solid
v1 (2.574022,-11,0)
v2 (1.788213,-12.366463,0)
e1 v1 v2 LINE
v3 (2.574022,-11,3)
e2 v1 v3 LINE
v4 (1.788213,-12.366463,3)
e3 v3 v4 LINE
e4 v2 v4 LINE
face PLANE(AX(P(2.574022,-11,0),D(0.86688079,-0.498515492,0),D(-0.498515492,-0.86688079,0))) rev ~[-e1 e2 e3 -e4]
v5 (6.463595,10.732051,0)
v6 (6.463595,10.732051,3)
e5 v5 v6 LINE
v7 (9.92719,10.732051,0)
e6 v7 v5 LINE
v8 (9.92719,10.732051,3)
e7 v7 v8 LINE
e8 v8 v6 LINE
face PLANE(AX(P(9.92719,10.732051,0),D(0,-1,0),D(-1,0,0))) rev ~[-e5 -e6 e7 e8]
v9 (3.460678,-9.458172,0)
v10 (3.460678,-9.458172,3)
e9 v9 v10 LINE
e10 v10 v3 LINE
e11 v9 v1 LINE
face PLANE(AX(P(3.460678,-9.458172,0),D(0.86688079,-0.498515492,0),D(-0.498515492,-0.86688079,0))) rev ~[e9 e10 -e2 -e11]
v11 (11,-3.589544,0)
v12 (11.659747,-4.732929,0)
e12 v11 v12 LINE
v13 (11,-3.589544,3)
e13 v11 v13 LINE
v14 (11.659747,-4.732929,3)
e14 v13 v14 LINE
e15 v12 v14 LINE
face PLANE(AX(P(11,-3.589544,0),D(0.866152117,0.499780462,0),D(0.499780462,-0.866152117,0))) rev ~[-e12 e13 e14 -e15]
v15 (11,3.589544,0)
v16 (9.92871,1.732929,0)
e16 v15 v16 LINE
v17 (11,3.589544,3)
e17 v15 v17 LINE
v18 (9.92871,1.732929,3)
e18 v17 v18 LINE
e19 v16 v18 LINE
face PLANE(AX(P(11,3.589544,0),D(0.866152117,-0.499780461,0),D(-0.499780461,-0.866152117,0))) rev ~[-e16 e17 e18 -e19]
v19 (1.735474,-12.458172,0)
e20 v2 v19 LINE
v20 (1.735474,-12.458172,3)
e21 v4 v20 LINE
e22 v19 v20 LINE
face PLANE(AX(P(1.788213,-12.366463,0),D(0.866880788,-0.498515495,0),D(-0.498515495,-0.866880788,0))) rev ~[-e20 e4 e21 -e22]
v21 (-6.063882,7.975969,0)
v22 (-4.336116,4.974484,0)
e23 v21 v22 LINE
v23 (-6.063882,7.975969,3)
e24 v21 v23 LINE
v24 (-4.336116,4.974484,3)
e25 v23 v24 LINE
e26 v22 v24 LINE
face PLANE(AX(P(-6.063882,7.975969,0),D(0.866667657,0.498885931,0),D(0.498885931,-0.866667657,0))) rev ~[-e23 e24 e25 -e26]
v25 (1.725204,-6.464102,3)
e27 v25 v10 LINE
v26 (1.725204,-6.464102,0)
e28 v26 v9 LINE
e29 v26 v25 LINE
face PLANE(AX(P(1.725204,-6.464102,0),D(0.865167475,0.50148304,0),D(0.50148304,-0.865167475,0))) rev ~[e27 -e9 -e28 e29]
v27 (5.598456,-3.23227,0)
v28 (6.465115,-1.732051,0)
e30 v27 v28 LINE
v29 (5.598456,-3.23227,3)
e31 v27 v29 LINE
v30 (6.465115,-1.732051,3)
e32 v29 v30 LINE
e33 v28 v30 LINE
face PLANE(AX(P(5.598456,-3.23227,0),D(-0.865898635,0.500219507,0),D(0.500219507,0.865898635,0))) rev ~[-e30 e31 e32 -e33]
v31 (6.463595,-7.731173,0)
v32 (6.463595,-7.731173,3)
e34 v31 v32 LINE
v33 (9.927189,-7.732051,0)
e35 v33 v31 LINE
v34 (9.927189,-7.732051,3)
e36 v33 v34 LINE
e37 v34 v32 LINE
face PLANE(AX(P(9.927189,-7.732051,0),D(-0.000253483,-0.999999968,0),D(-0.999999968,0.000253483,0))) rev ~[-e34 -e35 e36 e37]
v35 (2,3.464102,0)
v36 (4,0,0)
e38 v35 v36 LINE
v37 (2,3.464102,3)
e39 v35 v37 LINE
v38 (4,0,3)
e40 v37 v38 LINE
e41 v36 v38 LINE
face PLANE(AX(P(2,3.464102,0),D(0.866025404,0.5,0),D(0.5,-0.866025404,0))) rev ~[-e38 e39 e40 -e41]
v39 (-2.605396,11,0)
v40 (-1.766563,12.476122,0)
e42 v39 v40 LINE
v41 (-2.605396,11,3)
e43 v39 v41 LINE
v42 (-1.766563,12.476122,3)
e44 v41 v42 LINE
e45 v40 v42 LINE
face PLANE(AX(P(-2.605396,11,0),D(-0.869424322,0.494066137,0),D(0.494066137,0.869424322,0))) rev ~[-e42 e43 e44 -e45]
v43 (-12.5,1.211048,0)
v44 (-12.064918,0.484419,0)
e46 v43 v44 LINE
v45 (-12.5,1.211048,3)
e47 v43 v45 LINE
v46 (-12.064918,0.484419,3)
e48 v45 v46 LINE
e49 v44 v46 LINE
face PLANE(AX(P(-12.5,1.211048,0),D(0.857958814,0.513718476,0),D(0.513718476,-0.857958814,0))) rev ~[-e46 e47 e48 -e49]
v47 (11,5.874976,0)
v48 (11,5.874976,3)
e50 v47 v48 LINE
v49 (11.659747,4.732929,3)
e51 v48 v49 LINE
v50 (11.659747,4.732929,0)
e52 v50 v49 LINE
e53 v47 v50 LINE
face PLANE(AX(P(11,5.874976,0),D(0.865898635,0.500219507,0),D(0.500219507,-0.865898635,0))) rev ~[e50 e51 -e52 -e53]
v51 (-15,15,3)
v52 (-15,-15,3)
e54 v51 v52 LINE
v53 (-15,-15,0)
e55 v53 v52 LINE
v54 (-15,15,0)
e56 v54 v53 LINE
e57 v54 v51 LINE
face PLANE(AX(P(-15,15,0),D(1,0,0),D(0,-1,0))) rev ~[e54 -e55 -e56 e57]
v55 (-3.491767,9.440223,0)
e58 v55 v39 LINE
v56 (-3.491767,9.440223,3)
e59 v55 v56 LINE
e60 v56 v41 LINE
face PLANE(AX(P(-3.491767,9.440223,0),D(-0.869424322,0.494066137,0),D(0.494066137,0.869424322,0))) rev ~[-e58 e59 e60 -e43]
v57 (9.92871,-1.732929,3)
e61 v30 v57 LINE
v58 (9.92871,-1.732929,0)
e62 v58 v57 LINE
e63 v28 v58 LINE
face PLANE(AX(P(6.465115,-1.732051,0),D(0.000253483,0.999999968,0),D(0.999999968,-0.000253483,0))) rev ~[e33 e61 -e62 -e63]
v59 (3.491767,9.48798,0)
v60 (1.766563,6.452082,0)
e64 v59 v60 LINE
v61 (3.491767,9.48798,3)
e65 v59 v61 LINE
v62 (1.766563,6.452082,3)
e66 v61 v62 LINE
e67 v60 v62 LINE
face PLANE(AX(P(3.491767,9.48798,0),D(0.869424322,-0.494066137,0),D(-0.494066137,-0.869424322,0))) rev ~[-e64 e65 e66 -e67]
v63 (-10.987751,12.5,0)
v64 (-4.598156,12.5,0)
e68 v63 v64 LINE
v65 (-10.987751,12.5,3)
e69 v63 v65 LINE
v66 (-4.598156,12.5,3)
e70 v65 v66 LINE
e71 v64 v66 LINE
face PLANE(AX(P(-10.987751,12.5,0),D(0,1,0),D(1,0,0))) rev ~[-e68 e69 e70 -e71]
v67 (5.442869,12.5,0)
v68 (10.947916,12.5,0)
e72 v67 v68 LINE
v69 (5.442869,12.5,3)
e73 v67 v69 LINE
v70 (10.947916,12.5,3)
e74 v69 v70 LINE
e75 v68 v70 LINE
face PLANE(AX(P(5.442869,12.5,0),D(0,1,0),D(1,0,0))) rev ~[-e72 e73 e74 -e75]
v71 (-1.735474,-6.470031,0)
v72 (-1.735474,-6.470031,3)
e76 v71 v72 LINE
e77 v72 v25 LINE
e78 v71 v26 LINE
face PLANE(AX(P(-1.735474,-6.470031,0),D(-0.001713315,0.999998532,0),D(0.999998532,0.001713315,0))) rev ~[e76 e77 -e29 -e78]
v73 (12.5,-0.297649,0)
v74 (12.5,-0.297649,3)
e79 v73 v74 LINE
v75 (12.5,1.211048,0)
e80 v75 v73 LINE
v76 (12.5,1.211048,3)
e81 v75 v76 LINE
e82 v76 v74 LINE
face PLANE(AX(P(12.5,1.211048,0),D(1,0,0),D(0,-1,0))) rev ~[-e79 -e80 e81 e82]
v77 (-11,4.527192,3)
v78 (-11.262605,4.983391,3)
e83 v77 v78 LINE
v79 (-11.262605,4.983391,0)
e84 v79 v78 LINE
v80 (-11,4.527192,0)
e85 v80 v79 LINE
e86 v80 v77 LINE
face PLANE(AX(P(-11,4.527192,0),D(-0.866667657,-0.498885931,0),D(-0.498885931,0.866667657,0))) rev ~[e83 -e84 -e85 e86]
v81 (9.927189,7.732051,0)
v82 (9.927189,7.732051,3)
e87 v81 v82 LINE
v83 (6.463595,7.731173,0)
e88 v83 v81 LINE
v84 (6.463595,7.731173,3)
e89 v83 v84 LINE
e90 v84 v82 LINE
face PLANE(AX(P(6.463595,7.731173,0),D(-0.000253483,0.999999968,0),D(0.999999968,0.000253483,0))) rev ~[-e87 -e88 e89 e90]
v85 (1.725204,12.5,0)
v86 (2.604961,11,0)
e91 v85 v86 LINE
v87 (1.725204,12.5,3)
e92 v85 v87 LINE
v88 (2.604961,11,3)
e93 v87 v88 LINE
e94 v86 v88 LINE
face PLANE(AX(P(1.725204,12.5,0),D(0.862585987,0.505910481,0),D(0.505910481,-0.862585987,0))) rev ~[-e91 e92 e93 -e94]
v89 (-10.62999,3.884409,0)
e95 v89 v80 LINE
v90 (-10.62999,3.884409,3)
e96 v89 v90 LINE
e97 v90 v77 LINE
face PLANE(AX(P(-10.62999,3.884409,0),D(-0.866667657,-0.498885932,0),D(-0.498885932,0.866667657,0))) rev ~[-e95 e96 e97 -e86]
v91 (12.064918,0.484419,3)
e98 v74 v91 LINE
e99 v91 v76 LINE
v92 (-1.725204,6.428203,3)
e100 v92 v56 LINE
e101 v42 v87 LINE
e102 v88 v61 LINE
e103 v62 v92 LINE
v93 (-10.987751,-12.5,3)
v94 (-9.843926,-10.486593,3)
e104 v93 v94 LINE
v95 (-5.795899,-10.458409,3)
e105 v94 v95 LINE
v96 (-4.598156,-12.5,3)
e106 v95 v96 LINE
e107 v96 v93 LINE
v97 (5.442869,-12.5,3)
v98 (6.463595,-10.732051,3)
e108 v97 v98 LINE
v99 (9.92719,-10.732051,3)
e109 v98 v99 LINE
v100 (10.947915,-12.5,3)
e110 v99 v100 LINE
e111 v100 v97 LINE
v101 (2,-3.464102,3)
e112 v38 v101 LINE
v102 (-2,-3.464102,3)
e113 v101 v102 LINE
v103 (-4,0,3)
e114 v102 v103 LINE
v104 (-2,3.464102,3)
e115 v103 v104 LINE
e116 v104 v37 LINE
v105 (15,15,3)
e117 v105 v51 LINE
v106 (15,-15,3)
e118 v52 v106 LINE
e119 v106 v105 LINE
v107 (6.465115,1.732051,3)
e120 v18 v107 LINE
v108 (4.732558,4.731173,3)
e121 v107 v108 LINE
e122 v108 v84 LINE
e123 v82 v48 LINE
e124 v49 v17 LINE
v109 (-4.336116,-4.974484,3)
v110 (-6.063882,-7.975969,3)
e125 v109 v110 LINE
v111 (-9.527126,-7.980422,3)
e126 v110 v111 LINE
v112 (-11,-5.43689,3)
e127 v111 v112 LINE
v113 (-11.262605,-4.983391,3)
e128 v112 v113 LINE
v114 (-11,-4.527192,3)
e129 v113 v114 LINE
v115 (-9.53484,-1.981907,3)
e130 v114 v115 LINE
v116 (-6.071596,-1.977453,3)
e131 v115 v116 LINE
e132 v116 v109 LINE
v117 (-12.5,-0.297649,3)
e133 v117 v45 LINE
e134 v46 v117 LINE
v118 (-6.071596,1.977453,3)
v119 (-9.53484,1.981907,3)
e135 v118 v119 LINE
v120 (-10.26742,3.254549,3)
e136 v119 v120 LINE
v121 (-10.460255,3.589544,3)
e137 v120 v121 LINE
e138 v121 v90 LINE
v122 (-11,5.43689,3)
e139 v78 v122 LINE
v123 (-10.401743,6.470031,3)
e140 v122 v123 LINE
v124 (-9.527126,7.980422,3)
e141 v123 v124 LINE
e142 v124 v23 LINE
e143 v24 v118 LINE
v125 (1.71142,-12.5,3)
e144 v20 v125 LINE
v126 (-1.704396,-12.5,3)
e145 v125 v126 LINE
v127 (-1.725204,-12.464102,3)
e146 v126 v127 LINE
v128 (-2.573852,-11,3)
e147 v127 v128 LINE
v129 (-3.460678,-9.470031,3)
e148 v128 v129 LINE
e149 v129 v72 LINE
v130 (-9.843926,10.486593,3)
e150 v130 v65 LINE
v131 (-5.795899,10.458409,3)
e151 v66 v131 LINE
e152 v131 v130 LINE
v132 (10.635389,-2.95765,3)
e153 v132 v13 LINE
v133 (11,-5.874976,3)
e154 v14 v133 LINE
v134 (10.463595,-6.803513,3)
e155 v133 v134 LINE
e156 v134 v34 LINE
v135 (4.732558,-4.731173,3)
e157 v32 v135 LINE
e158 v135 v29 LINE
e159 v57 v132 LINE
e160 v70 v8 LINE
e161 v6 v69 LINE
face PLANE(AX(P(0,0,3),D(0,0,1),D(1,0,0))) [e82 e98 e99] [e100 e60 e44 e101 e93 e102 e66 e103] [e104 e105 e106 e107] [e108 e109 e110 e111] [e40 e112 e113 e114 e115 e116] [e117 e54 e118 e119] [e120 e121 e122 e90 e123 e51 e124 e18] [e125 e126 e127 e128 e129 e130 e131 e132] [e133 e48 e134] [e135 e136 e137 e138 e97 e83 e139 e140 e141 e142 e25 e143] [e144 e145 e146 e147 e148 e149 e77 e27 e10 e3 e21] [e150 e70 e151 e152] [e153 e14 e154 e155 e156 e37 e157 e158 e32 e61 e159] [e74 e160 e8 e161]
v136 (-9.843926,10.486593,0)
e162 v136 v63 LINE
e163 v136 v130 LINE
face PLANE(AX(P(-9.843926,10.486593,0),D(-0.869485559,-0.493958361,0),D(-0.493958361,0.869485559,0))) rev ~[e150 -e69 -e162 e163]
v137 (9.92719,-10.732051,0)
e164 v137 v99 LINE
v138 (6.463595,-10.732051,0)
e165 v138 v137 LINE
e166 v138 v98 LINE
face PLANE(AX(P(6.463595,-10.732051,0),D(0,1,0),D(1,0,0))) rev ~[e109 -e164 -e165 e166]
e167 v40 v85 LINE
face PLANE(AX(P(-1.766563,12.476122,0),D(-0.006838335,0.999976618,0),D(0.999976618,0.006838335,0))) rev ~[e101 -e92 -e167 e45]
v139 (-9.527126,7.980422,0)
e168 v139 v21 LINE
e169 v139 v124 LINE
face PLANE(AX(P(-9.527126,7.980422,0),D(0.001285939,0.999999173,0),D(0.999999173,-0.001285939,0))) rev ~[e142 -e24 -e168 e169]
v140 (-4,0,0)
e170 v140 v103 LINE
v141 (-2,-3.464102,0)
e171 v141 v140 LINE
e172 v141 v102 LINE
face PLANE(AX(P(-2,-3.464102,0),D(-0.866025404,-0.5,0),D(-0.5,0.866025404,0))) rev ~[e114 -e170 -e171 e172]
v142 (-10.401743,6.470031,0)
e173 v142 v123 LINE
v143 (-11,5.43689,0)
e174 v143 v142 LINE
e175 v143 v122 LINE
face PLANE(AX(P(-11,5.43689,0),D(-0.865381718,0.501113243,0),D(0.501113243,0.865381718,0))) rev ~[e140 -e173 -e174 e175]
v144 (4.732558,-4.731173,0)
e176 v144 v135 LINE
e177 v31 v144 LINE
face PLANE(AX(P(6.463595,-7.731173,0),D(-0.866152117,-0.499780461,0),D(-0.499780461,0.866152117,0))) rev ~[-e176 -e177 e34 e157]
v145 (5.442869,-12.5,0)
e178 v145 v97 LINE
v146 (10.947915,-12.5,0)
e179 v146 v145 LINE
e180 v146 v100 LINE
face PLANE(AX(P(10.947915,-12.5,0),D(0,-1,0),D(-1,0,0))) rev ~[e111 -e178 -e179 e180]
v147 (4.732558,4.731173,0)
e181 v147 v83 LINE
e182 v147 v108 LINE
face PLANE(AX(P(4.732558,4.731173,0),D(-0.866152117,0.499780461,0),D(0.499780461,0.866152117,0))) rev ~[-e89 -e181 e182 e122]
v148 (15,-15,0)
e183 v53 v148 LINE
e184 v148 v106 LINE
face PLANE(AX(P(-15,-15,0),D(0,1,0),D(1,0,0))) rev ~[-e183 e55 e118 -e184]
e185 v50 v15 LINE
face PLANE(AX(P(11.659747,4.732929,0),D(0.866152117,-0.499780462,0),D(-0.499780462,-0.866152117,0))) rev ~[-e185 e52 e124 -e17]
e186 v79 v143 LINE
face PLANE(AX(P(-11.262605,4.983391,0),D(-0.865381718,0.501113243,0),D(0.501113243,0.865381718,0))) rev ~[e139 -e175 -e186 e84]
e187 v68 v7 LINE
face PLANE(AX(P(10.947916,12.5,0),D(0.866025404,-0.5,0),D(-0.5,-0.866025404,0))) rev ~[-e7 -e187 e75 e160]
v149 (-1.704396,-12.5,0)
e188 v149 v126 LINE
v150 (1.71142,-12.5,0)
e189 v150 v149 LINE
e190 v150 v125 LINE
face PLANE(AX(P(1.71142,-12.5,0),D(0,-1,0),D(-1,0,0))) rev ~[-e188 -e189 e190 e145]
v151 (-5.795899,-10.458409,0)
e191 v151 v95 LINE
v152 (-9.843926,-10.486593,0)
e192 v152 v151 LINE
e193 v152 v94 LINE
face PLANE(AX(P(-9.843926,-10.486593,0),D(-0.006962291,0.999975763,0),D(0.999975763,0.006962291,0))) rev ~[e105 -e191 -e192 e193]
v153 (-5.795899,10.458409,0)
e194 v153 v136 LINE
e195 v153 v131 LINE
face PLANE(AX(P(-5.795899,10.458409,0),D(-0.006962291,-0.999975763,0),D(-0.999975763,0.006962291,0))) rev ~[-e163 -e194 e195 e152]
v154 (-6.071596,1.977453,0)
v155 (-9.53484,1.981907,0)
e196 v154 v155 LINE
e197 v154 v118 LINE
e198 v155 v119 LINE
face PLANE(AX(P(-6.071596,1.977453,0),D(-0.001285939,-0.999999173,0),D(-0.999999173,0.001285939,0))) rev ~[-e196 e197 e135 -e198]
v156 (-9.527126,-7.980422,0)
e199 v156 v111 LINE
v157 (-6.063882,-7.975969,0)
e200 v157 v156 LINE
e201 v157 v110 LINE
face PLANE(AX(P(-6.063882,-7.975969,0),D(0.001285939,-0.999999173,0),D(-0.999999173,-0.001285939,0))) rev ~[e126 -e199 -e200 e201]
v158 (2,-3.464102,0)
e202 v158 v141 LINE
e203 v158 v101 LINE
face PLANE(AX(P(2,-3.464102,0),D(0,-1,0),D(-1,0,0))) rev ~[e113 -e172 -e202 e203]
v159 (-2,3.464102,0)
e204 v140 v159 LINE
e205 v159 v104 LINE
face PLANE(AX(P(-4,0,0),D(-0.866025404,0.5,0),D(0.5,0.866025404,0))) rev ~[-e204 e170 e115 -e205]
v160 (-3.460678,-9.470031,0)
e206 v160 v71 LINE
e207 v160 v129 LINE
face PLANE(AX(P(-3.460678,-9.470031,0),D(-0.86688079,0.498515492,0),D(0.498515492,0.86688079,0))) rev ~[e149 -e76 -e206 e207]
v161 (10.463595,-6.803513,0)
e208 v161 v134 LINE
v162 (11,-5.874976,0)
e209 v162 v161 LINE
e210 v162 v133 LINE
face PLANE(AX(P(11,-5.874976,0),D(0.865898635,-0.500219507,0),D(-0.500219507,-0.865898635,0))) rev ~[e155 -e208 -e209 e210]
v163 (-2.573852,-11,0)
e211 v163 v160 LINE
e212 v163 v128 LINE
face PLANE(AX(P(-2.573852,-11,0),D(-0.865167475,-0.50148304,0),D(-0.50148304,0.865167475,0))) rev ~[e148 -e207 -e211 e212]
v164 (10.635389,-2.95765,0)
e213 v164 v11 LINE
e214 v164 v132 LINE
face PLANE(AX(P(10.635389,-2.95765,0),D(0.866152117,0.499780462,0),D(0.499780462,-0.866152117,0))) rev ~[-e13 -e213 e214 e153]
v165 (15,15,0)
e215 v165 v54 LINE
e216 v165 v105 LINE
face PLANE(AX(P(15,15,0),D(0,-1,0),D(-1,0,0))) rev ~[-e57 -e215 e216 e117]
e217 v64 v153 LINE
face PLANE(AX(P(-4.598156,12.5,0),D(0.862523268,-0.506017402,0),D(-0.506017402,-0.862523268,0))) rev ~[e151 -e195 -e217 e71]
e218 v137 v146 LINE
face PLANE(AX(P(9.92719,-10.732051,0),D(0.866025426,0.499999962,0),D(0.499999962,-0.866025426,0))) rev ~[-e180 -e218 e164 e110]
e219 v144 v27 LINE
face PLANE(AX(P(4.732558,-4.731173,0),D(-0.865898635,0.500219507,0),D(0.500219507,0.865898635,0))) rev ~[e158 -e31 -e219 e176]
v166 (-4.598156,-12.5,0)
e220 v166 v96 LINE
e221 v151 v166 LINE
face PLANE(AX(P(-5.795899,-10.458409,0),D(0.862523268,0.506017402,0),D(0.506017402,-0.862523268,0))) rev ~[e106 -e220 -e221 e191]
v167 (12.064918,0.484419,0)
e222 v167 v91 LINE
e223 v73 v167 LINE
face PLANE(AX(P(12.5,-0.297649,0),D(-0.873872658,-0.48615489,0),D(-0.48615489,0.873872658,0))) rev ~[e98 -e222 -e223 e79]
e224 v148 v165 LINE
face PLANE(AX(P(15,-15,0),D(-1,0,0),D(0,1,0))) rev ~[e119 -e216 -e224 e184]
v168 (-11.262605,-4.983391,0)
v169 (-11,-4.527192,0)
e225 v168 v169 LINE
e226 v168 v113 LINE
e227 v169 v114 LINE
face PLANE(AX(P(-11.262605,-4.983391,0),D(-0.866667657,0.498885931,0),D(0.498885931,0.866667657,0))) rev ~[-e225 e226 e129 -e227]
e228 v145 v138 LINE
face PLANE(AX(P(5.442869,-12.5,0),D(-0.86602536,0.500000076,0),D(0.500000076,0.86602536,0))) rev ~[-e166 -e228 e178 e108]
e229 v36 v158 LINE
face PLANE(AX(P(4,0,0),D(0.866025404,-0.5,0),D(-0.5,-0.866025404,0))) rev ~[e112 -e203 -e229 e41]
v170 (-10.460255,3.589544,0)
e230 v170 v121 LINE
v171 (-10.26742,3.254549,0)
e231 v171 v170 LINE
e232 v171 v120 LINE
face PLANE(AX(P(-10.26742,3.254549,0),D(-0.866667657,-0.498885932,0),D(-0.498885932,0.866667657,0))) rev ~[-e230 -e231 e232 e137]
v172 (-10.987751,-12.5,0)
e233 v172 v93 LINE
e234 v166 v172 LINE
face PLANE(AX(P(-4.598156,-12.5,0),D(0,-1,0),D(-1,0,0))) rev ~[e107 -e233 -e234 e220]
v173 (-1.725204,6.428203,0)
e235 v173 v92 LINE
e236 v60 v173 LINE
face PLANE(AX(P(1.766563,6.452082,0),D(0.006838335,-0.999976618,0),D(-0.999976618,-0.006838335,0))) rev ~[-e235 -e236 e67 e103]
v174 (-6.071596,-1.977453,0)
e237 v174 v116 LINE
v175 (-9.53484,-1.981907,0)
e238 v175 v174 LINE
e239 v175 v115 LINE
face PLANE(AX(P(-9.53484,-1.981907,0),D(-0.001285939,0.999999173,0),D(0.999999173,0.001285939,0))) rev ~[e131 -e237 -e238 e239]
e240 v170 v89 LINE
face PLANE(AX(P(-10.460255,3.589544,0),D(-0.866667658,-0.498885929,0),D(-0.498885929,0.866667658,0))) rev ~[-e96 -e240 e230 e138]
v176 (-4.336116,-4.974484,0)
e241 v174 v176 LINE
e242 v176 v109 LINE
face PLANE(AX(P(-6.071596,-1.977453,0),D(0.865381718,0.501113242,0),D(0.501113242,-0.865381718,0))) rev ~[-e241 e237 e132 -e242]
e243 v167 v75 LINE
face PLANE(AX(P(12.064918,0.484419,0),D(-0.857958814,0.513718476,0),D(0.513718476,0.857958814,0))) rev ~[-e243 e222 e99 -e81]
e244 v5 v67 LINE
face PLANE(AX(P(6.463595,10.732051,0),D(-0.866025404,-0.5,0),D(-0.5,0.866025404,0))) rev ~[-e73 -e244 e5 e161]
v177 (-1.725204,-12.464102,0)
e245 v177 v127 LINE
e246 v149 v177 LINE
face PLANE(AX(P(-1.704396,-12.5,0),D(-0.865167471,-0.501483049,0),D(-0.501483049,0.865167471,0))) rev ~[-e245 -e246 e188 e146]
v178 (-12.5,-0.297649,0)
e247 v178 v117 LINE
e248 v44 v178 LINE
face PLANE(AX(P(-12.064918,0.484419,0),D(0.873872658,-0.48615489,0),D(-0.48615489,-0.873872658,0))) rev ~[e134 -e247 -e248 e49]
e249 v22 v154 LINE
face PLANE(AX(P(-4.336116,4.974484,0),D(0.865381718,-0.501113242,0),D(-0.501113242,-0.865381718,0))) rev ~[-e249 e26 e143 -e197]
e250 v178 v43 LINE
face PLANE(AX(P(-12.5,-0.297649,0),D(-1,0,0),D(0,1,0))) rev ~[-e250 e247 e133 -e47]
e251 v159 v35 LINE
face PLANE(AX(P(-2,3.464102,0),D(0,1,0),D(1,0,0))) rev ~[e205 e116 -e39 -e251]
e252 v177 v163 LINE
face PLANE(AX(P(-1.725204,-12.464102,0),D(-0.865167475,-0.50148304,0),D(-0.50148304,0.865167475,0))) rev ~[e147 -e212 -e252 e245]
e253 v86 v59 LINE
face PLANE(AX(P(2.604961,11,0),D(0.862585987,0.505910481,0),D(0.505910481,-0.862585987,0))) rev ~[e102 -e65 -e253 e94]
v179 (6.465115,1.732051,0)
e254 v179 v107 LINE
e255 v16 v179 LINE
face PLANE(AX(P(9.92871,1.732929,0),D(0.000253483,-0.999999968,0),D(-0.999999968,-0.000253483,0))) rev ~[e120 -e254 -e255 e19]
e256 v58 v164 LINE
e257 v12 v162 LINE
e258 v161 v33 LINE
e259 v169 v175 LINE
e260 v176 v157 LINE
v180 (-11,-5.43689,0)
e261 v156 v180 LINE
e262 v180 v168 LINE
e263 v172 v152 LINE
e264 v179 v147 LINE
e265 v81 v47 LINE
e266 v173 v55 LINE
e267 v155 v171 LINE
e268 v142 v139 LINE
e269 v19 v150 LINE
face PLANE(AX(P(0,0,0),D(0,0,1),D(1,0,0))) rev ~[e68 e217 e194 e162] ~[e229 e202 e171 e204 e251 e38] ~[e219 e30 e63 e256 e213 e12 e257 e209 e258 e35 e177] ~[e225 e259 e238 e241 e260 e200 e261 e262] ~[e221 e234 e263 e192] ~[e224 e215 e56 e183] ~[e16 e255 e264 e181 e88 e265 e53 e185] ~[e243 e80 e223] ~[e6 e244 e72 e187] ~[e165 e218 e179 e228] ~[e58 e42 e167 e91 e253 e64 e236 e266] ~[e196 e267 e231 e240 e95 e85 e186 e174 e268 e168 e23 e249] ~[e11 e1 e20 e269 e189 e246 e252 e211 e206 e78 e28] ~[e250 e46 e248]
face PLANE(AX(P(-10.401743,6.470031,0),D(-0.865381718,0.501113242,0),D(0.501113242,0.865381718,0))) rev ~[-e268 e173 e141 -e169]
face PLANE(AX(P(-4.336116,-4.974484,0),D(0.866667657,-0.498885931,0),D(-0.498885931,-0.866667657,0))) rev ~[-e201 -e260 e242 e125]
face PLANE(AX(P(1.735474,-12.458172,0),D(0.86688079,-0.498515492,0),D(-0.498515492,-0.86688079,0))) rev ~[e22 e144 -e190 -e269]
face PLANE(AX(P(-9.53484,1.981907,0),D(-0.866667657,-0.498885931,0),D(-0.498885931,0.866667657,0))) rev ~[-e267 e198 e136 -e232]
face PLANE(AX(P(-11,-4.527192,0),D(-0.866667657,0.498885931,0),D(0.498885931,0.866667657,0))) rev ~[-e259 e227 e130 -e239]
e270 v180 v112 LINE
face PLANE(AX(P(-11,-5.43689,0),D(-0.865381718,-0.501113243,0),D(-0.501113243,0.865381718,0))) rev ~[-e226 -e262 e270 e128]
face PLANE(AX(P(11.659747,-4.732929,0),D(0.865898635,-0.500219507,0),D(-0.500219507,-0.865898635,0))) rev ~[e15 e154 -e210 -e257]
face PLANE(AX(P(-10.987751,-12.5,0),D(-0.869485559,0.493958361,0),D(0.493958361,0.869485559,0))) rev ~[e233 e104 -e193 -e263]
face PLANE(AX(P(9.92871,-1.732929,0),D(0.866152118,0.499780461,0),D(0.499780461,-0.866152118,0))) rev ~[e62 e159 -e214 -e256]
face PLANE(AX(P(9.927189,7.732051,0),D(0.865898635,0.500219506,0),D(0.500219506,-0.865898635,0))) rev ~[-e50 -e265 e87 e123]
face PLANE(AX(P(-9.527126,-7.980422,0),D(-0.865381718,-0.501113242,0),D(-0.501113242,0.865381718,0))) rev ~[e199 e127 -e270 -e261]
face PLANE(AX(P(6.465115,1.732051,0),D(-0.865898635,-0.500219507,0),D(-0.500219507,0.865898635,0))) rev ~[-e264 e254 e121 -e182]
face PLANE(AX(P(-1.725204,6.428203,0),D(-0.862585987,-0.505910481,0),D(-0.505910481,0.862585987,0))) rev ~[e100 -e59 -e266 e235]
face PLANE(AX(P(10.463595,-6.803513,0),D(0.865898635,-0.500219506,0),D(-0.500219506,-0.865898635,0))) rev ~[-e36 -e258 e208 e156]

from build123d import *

# Parameters (mm, degrees)
SALIENTE_EXTRUIR3_DEPTH = 3


with BuildPart() as part:
    # Croquis1 → Saliente-Extruir3 (new body)
    with BuildSketch(Plane.XY):
        Polygon((-11.260603559, 15), (-15, 15), (-15, 3.468631071), (-15, -2.593220906), (-15, -15), (15, -15), (15, 15), (10.926682634, 15), (5.464101822, 15), (-4.343979365, 15), align=None)
        Polygon((-4.598156154, -12.5), (-10.987751023, -12.5), (-9.843926146, -10.486593018), (-5.795898544, -10.458408789), align=None, mode=Mode.SUBTRACT)
        Polygon((-1.735474056, -6.470030855), (1.725204311, -6.464101615), (3.460678367, -9.458172375), (2.574022478, -11), (1.788213156, -12.366463064), (1.735474056, -12.458172375), (1.711420323, -12.5), (-1.70439628, -12.5), (-1.725204311, -12.464101615), (-2.573851712, -11), (-3.460678367, -9.470030855), align=None, mode=Mode.SUBTRACT)
        Polygon((-9.52712635, -7.980422404), (-11, -5.43688968), (-11.262605478, -4.983391428), (-11, -4.527191603), (-9.53484008, -1.981906927), (-6.071595554, -1.977453403), (-4.336116426, -4.974484379), (-6.063881824, -7.97596888), align=None, mode=Mode.SUBTRACT)
        Polygon((10.94791539, -12.5), (5.442868782, -12.5), (6.463594896, -10.732050867), (9.927189585, -10.732050867), align=None, mode=Mode.SUBTRACT)
        Polygon((2, 3.464101615), (4, 0), (2, -3.464101615), (-2, -3.464101615), (-4, 0), (-2, 3.464101615), align=None, mode=Mode.SUBTRACT)
        Polygon((9.928710122, -1.732928769), (10.635389239, -2.957649744), (11, -3.589543959), (11.659747147, -4.732928769), (11, -5.874975703), (10.463594724, -6.803513255), (9.927189448, -7.732050808), (6.463594724, -7.731172846), (4.732557699, -4.731172846), (5.598456213, -3.232270202), (6.465115398, -1.732050808), align=None, mode=Mode.SUBTRACT)
        Polygon((-12.064918104, 0.484419433), (-12.5, -0.297648548), (-12.5, 1.211047664), align=None, mode=Mode.SUBTRACT)
        Polygon((-9.52712635, 7.980422404), (-6.063881824, 7.97596888), (-4.336116426, 4.974484379), (-6.071595554, 1.977453403), (-9.53484008, 1.981906927), (-10.26742004, 3.254549265), (-10.460255366, 3.589543959), (-10.62999033, 3.884408567), (-11, 4.527191603), (-11.262605478, 4.983391428), (-11, 5.43688968), (-10.401742938, 6.470030855), align=None, mode=Mode.SUBTRACT)
        Polygon((-9.843926146, 10.486593018), (-10.987751023, 12.5), (-4.598156154, 12.5), (-5.795898544, 10.458408789), align=None, mode=Mode.SUBTRACT)
        Polygon((1.725204311, 12.5), (2.604960918, 11), (3.49176728, 9.487980048), (1.766562969, 6.452081663), (-1.725204311, 6.42820323), (-3.49176728, 9.440223182), (-2.605395818, 11), (-1.766562969, 12.476121567), align=None, mode=Mode.SUBTRACT)
        Polygon((12.5, 1.211047664), (12.5, -0.297648548), (12.064918104, 0.484419433), align=None, mode=Mode.SUBTRACT)
        Polygon((11, 3.589543959), (9.928710122, 1.732928769), (6.465115398, 1.732050808), (4.732557699, 4.731172846), (6.463594724, 7.731172846), (9.927189448, 7.732050808), (11, 5.874975703), (11.659747147, 4.732928769), align=None, mode=Mode.SUBTRACT)
        Polygon((6.463594896, 10.732050808), (5.442868954, 12.5), (10.947915528, 12.5), (9.927189585, 10.732050808), align=None, mode=Mode.SUBTRACT)
    extrude(amount=SALIENTE_EXTRUIR3_DEPTH)


solid = part.part
